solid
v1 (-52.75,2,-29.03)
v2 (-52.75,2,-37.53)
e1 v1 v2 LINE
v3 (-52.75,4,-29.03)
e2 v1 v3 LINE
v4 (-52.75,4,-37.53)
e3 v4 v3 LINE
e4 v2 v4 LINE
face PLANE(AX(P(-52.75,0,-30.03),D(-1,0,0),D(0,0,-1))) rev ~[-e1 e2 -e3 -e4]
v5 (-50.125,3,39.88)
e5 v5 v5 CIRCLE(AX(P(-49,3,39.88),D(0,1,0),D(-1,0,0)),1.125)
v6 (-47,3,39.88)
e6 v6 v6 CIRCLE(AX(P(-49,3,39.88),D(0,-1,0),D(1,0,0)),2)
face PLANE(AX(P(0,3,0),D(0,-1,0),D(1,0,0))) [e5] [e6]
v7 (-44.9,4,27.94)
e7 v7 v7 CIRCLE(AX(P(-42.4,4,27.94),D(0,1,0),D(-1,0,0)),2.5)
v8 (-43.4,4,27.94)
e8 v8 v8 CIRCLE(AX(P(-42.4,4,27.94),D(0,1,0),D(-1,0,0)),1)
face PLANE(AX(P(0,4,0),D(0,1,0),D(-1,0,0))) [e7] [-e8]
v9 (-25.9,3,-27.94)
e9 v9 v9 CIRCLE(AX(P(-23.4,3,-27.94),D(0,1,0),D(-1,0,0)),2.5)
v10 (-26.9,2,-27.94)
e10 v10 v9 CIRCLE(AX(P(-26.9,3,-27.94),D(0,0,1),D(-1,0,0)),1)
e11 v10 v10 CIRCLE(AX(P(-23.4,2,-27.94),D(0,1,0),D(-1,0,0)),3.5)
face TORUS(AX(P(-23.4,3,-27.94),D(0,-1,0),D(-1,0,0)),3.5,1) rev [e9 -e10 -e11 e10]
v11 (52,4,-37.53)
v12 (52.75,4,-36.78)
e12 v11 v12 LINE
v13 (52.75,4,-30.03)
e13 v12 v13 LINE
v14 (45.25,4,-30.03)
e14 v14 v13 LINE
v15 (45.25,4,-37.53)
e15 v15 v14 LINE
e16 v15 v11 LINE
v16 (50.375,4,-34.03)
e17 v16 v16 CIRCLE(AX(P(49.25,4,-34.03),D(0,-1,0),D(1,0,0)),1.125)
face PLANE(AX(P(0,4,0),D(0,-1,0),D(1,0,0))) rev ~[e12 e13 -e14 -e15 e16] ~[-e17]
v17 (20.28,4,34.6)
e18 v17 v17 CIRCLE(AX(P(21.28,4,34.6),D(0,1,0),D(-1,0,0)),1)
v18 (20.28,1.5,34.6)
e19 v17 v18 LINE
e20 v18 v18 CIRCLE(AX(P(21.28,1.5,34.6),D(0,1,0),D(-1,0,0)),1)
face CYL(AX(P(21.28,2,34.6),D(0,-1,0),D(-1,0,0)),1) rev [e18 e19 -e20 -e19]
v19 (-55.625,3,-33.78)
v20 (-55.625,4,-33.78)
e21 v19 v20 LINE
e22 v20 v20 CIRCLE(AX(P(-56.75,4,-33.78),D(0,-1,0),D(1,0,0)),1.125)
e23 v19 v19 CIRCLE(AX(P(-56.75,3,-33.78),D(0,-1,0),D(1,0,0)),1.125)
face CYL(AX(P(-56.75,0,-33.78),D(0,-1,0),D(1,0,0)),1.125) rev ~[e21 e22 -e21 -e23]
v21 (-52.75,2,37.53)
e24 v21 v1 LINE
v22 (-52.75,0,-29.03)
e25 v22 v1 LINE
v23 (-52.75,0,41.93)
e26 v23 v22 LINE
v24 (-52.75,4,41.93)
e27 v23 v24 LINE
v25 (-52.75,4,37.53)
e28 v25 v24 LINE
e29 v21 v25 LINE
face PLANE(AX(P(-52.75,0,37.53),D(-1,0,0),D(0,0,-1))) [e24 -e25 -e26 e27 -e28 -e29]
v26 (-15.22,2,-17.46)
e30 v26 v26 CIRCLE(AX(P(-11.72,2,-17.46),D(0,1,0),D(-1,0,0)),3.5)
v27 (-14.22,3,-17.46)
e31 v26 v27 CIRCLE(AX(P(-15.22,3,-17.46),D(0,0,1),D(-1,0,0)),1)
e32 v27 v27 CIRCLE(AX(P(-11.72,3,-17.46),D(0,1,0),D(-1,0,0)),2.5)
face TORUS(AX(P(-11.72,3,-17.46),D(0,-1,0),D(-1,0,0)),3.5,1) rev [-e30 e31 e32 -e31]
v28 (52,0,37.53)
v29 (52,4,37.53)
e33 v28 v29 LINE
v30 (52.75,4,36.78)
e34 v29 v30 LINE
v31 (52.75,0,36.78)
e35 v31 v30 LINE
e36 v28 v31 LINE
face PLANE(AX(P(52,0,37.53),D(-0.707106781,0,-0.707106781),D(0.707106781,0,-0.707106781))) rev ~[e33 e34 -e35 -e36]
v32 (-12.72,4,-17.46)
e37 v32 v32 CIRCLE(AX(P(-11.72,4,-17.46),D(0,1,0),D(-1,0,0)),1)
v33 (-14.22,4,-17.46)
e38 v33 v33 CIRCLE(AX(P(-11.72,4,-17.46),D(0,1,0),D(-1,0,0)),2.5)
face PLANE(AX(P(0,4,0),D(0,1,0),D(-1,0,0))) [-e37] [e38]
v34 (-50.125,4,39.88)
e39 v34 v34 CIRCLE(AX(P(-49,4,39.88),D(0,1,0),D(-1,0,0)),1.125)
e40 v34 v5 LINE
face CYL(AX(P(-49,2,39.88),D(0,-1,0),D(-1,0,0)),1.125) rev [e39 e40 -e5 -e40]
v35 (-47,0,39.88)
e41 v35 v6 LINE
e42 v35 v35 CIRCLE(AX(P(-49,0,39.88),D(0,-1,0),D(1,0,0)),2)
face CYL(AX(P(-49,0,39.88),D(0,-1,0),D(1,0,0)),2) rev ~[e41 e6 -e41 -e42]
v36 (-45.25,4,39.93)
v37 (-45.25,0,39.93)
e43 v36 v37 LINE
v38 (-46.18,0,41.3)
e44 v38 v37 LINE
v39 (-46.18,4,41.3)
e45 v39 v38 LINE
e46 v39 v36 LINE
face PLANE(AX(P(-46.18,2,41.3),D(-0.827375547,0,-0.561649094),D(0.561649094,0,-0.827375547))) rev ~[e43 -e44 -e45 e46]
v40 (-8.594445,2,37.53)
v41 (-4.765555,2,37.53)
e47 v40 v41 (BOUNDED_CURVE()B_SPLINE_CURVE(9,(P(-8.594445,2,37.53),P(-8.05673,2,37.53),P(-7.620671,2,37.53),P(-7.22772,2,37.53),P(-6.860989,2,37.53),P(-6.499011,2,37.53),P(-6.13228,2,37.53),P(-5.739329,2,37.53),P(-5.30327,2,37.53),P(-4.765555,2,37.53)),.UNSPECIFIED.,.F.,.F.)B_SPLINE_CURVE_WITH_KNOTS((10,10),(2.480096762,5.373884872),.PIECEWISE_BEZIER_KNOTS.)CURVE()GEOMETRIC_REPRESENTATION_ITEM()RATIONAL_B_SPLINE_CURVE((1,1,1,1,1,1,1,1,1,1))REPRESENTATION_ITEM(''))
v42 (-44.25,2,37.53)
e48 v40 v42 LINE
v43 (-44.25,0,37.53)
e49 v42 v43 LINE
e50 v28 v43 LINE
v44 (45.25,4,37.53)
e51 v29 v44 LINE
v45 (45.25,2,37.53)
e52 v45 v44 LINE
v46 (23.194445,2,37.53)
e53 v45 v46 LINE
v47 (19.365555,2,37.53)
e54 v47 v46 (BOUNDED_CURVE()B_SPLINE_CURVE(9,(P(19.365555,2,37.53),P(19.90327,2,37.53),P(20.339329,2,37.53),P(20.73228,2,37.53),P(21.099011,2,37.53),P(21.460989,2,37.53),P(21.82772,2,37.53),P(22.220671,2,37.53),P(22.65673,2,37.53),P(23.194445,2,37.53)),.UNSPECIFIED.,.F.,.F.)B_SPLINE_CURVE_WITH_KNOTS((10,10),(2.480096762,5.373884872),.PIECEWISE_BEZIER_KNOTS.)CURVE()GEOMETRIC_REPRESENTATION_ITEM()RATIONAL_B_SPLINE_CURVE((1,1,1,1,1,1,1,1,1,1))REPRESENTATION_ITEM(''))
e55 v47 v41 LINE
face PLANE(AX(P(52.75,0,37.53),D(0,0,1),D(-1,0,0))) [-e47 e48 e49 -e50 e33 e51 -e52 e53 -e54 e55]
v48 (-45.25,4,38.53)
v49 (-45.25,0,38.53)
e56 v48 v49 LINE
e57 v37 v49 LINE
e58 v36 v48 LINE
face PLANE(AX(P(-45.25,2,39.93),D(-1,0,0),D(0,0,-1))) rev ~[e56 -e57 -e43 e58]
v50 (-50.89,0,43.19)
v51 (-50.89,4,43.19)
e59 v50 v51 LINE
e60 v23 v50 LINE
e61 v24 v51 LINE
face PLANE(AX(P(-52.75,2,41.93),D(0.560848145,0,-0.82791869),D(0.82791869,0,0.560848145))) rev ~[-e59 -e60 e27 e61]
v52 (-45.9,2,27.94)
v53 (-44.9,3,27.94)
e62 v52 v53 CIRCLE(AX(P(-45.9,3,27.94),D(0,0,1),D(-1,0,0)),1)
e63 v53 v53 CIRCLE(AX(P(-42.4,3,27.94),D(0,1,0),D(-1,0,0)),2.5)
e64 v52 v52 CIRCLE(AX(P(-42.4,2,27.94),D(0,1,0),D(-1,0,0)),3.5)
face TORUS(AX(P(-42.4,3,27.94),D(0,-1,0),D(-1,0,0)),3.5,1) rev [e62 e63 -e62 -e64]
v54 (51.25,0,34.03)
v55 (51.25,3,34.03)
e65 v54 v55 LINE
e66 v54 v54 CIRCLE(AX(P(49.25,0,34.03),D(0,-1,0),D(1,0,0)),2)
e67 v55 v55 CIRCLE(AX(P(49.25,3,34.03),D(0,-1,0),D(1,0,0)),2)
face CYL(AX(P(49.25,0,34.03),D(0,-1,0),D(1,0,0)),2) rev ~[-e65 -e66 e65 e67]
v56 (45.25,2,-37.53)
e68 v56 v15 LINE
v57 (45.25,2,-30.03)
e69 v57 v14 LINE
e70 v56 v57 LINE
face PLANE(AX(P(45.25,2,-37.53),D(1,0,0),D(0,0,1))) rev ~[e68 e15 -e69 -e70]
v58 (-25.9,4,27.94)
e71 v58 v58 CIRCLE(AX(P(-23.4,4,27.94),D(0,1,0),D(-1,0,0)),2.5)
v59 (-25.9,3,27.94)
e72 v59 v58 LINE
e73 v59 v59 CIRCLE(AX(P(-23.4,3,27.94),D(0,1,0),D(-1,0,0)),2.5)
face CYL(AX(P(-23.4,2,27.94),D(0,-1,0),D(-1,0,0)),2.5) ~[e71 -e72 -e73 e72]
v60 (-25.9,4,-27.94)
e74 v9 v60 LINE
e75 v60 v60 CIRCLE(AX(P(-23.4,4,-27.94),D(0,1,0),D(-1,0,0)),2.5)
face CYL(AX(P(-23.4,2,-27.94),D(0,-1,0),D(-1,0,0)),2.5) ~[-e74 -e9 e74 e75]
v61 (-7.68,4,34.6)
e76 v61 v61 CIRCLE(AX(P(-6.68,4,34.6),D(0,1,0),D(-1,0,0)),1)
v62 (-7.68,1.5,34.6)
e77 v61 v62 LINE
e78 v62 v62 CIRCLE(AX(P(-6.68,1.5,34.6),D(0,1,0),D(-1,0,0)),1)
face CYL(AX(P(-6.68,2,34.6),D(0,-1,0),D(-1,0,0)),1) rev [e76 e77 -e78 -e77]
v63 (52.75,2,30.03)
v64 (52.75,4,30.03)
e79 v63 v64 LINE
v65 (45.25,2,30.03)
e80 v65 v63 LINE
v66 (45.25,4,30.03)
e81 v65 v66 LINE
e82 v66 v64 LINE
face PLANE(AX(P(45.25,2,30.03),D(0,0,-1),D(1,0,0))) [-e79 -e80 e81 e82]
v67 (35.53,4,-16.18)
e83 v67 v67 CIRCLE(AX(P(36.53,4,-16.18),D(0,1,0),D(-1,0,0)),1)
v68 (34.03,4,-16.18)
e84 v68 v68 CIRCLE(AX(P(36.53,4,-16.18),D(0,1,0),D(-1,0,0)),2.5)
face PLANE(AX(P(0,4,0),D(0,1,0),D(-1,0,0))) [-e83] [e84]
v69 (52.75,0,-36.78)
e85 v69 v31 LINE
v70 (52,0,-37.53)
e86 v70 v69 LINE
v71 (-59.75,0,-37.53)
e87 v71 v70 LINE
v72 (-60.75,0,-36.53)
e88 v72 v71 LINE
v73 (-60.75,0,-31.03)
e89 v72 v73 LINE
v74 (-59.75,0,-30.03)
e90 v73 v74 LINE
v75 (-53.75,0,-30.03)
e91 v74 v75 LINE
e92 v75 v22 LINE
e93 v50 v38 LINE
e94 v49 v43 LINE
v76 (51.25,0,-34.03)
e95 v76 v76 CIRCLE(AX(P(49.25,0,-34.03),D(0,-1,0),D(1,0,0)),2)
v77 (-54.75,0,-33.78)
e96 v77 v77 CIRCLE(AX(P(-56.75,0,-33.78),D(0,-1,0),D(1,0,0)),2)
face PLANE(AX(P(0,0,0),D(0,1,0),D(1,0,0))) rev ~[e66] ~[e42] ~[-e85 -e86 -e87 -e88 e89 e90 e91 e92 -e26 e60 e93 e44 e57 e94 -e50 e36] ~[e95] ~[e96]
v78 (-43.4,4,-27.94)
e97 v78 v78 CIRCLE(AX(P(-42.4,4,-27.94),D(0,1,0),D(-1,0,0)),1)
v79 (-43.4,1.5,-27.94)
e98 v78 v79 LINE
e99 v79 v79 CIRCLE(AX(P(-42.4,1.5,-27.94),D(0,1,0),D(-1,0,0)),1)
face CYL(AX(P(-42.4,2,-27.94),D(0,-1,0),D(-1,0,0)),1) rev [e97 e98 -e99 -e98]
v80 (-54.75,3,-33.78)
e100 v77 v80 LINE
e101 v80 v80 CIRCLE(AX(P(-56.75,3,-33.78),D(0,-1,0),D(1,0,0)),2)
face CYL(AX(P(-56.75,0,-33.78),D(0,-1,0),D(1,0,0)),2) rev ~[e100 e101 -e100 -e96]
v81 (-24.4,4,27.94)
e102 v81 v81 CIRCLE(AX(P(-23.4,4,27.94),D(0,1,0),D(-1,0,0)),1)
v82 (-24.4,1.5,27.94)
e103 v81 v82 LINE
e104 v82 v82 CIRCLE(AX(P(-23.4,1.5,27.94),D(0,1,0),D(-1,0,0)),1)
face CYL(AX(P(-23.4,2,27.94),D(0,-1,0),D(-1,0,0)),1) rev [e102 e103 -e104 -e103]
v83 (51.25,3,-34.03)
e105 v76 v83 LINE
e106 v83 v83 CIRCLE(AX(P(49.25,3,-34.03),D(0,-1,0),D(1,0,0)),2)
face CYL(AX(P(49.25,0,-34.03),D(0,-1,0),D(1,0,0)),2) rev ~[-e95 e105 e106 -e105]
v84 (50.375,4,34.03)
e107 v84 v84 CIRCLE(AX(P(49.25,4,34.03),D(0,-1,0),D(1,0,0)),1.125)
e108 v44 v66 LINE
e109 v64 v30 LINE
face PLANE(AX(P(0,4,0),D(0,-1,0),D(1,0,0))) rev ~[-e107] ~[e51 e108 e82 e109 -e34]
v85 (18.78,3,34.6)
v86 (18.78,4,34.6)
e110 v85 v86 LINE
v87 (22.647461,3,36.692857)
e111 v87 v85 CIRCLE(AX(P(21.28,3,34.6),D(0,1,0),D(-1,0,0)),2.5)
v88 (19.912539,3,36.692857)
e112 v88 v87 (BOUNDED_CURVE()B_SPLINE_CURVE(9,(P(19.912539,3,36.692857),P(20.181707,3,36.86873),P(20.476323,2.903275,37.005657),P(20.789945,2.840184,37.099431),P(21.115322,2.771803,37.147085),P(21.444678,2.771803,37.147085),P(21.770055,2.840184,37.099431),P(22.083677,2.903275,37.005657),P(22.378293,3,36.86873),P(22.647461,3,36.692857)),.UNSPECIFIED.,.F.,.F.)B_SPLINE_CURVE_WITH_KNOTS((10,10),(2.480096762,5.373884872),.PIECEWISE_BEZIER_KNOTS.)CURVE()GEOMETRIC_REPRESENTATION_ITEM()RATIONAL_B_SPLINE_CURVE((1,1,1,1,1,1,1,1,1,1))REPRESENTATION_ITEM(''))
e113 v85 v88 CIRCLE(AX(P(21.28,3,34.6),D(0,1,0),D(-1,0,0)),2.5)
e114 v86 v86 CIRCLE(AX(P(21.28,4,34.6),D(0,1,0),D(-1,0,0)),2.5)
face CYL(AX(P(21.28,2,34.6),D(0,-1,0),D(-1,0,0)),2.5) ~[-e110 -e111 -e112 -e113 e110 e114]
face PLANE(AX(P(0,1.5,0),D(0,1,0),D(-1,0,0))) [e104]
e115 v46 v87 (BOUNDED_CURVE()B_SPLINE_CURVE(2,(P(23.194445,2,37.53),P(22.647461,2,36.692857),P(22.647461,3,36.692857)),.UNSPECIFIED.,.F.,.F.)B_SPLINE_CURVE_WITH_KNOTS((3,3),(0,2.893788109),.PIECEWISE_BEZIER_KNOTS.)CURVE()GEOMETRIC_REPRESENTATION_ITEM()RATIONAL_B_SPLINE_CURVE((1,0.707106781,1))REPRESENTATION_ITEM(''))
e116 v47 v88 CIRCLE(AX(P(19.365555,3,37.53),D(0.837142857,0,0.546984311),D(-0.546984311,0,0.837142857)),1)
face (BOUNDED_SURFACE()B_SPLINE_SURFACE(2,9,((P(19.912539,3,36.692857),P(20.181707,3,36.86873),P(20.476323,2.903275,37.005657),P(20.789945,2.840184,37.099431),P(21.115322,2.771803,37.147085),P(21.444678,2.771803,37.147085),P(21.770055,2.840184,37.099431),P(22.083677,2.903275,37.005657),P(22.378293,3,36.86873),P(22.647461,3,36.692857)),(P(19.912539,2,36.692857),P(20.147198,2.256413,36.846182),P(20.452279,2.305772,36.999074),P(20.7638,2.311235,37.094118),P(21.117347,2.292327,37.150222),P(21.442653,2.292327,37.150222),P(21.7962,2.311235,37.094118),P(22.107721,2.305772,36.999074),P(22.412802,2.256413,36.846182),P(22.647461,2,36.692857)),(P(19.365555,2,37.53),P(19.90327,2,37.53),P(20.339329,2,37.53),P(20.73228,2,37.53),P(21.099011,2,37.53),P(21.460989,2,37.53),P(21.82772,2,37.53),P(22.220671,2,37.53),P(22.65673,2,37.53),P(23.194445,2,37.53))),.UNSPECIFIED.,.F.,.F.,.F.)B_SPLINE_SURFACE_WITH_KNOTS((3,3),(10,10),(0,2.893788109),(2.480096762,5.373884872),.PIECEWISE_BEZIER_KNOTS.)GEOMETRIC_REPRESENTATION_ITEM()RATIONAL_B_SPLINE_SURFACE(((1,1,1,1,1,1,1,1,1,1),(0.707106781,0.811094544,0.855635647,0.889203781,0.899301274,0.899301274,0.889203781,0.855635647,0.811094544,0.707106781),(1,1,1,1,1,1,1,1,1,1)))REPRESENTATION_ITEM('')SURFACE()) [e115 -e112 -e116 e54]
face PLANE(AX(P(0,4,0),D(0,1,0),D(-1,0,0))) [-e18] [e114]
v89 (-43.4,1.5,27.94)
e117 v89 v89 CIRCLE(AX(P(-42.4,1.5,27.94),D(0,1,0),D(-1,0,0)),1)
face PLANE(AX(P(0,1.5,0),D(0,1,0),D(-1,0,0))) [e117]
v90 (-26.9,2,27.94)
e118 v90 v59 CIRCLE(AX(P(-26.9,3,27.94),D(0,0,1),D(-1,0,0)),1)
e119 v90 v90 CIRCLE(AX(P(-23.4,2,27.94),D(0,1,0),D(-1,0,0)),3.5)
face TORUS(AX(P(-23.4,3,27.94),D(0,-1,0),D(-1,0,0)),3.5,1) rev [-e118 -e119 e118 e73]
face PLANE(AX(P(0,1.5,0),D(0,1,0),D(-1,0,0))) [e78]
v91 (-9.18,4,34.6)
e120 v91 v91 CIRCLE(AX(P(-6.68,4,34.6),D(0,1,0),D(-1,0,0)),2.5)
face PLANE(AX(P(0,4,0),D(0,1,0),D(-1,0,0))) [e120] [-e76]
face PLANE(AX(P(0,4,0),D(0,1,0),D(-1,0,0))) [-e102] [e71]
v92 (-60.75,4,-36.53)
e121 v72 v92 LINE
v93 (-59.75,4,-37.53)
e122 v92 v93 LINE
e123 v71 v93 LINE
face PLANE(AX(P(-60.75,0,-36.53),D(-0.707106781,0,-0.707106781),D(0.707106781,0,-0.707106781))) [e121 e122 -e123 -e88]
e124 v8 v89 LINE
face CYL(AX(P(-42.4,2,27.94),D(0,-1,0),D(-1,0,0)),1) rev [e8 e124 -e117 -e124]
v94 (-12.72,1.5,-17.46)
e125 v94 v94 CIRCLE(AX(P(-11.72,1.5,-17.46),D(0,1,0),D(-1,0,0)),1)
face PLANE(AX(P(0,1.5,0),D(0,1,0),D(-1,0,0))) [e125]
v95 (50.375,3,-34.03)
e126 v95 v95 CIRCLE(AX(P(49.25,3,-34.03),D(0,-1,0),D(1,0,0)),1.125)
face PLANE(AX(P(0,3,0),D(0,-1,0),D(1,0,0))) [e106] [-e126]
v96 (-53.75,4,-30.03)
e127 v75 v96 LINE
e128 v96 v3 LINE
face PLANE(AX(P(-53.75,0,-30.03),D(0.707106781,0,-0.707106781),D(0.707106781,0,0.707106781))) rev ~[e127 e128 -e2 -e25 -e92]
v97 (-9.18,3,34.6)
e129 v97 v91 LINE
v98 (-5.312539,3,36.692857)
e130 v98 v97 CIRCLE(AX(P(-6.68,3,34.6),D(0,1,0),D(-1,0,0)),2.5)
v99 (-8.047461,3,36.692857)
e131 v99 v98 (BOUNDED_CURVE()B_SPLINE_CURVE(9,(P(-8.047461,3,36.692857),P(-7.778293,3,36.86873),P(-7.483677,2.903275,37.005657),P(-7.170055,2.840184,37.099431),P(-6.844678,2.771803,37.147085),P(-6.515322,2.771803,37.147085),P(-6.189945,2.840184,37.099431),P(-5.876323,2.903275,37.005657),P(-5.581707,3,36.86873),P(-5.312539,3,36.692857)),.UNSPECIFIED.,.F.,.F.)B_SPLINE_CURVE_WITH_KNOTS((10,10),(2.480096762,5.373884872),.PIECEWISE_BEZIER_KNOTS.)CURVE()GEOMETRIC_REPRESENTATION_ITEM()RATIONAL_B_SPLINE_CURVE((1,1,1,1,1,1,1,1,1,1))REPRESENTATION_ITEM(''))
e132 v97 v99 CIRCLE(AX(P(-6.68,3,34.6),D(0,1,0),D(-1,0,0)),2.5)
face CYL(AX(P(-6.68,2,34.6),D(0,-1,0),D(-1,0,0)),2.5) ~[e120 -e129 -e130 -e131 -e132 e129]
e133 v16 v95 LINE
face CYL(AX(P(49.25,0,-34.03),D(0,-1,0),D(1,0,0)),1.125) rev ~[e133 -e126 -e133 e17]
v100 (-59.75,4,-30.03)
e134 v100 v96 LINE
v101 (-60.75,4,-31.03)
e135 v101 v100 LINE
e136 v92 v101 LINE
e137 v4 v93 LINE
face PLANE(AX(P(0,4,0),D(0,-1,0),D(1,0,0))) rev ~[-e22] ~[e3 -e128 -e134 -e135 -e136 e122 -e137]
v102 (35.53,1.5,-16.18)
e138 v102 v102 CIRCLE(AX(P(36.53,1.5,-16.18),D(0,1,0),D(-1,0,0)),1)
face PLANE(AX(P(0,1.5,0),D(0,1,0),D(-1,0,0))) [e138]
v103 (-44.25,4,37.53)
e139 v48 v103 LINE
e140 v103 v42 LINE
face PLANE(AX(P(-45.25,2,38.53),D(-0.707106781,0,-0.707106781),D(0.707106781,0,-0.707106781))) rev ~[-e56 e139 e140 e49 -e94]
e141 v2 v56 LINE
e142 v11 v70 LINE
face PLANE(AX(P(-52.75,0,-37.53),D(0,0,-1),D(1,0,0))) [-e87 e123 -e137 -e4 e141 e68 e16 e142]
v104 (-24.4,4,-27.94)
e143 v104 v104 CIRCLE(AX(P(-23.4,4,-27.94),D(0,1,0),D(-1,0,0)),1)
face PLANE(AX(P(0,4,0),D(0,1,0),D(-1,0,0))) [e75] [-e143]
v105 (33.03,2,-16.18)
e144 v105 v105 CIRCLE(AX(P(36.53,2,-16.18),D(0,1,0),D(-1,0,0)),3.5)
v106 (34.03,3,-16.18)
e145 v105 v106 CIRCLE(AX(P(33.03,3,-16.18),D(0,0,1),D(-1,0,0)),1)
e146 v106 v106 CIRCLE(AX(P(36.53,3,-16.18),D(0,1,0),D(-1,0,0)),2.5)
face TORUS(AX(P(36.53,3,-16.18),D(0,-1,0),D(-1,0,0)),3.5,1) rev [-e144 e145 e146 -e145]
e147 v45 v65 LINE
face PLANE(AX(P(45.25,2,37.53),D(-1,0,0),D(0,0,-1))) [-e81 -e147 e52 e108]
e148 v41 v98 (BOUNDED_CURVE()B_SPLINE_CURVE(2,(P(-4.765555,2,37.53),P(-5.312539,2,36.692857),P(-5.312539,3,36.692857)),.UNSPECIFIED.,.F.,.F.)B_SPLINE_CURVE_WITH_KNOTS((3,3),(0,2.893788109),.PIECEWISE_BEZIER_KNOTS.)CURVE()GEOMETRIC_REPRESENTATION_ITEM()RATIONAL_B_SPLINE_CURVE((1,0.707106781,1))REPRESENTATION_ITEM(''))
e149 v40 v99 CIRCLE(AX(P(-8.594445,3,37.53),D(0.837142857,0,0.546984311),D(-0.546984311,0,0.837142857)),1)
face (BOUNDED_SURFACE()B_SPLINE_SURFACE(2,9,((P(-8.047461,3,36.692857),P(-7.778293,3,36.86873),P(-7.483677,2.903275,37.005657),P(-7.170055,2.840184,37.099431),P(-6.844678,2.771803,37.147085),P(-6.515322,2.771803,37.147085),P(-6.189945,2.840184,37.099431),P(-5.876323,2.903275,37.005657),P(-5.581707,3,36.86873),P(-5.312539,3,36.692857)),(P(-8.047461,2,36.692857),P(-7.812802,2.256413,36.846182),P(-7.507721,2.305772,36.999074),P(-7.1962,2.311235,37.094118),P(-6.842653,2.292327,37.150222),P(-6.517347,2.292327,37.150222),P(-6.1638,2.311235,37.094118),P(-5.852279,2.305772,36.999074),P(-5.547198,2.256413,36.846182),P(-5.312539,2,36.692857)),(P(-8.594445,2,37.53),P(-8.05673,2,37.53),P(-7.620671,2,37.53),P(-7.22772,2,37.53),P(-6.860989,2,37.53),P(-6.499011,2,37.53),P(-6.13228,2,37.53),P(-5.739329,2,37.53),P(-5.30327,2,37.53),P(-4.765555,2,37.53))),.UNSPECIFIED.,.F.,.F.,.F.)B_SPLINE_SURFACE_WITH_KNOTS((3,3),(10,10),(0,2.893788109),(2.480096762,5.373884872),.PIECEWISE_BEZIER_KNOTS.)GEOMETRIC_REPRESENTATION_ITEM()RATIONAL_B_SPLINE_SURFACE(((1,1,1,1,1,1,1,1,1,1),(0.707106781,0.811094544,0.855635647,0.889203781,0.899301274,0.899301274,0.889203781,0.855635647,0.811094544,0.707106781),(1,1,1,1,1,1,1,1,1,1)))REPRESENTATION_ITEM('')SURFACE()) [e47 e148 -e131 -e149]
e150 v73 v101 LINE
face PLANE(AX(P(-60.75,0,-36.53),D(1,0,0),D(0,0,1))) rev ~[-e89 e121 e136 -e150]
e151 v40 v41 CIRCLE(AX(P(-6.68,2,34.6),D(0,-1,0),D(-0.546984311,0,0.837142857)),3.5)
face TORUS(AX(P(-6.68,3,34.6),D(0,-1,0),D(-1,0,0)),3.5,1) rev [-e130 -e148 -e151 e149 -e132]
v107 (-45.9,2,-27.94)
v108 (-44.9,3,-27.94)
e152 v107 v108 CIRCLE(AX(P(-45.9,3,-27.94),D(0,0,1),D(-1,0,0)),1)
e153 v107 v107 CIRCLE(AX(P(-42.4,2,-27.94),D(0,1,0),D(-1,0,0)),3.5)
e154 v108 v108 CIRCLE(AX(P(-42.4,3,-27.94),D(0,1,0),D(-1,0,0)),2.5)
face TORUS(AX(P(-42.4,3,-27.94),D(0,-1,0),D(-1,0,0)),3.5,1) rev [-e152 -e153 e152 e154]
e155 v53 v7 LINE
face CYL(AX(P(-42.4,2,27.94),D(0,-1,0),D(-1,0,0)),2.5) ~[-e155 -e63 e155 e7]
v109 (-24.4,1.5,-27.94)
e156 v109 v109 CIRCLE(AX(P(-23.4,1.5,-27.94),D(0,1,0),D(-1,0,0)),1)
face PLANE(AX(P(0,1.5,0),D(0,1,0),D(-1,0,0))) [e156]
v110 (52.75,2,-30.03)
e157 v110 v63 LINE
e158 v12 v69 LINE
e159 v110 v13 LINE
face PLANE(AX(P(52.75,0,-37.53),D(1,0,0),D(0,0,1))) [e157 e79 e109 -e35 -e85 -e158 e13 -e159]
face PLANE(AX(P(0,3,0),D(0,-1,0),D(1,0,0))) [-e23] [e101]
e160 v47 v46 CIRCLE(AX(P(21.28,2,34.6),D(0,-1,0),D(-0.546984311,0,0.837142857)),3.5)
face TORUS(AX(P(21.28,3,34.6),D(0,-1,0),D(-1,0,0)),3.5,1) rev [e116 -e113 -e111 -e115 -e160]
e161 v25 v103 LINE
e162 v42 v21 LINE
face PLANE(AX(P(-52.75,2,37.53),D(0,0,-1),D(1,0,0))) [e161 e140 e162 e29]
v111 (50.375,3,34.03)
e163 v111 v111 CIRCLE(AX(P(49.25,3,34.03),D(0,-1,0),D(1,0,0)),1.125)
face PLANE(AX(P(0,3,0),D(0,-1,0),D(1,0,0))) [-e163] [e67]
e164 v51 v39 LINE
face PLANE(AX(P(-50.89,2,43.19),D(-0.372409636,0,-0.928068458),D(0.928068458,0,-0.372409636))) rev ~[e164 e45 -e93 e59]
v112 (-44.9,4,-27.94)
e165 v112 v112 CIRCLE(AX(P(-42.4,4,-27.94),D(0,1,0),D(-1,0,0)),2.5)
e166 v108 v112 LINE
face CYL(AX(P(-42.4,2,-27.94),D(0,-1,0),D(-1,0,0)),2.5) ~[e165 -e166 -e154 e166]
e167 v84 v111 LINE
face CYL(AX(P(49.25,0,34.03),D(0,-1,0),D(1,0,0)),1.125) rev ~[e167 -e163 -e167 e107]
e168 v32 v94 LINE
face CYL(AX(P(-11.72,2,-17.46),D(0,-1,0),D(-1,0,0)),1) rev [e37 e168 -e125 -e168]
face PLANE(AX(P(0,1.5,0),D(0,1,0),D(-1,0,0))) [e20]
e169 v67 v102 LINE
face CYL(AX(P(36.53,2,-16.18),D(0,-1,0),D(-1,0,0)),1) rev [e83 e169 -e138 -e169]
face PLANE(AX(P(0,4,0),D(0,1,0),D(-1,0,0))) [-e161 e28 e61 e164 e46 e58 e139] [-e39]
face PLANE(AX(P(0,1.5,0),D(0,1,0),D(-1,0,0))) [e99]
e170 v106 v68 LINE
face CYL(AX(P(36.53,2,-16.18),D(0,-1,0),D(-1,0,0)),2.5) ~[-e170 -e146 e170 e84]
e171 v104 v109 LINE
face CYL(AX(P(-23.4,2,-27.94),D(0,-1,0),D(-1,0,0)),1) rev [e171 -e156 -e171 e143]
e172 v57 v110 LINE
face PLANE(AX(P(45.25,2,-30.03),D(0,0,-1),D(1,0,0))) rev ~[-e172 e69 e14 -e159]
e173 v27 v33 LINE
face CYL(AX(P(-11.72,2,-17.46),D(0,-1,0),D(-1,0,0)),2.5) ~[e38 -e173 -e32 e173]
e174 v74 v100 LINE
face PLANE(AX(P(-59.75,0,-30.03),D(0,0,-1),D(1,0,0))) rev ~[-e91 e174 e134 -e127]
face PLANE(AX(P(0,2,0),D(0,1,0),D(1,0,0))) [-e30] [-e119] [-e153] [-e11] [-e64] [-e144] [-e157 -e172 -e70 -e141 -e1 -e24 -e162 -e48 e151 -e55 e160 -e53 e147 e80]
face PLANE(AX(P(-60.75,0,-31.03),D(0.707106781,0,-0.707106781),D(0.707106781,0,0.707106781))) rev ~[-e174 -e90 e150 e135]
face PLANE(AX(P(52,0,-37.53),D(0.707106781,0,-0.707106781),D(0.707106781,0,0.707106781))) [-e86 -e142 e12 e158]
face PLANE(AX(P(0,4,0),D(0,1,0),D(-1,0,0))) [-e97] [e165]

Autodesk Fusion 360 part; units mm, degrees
sketch "Sketch1" plane through (0, 0, 0) normal (0, 1, 0) x (1, 0, 0)
  line L0 (52.75, -37.53) -> (-52.75, -37.53)
  line L1 (-52.75, -37.53) -> (-52.75, 37.53)
  line L2 (-52.75, 37.53) -> (52.75, 37.53)
  line L3 (52.75, 37.53) -> (52.75, -37.53)
  line L4 (52.75, -37.53) -> (-52.75, 37.53) construction
  line L5 (-52.75, -37.53) -> (52.75, 37.53) construction
  dimension "d1" = 105.5
  dimension "d2" = 75.06
extrude "Extrude1" add sketch "Sketch1" along normal blind 2
sketch "Sketch2" plane through (0, 2, 0) normal (0, 1, 0) x (-1, 0, 0)
  line L0 (-52.75, -37.53) -> (52.75, -37.53)
  line L1 (52.75, -37.53) -> (52.75, 37.53)
  line L2 (52.75, 37.53) -> (-52.75, 37.53)
  line L3 (-52.75, 37.53) -> (-52.75, -37.53)
  line L4 (52.75, 37.53) -> (52.75, 41.93)
  line L5 (52.75, 41.93) -> (50.89, 43.19)
  line L6 (50.89, 43.19) -> (46.18, 41.3)
  line L7 (46.18, 41.3) -> (45.25, 39.93)
  line L8 (45.25, 39.93) -> (45.25, 38.53)
  line L9 (45.25, 38.53) -> (44.25, 37.53)
  line L10 (52.75, 37.53) -> (44.25, 37.53)
  circle A0 centre (49, 39.88) radius 1.125
  dimension "d5" = 4.4
  dimension "d6" = 1.26
  dimension "d7" = 1.86
  dimension "d8" = 4.71
  dimension "d9" = 1.89
  dimension "d10" = 0.93
  dimension "d11" = 1.37
  dimension "d12" = 1.4
  dimension "d13" = 1
  dimension "d14" = 3.75
  dimension "d15" = 2.25
  dimension "d16" = 2.35
extrude "Extrude2" add sketch "Sketch2" along normal blind 2 and the other way blind 2 contours L2 L4 L5 L6 L7 L8 L9 L10
sketch "Sketch3" plane through (0, 0, 0) normal (0, -1, 0) x (1, 0, 0)
  circle A0 centre (-49, 39.88) radius 1.125
  line L0 (-52.75, -37.53) -> (52.75, -37.53)
  line L1 (52.75, -37.53) -> (52.75, 37.53)
  line L2 (52.75, 37.53) -> (-44.25, 37.53)
  line L3 (-44.25, 37.53) -> (-45.25, 38.53)
  line L4 (-45.25, 38.53) -> (-45.25, 39.93)
  line L5 (-45.25, 39.93) -> (-46.18, 41.3)
  line L6 (-46.18, 41.3) -> (-50.89, 43.19)
  line L7 (-50.89, 43.19) -> (-52.75, 41.93)
  line L8 (-52.75, 41.93) -> (-52.75, -37.53)
  line L9 (-52.75, -37.53) -> (-60.75, -37.53)
  line L10 (-60.75, -37.53) -> (-60.75, -30.03)
  line L11 (-60.75, -30.03) -> (-52.75, -30.03)
  line L12 (-52.75, -30.03) -> (-52.75, -37.53)
  line L13 (-60.75, -36.53) -> (-59.75, -37.53)
  line L14 (-60.75, -31.03) -> (-59.75, -30.03)
  line L15 (-53.75, -30.03) -> (-52.75, -29.03)
  circle A1 centre (-56.75, -33.78) radius 1.125
  dimension "d21" = 8
  dimension "d22" = 7.5
  dimension "d23" = 8
  dimension "d24" = 7.5
  dimension "d25" = 1
  dimension "d26" = 1
  dimension "d27" = 1
  dimension "d28" = 1
  dimension "d29" = 1
  dimension "d30" = 1
  dimension "d31" = 2.25
  dimension "d32" = 4
  dimension "d33" = 3.75
extrude "Extrude3" add sketch "Sketch3" against normal blind 4 contours L8 L9 L10 L11 L12 L13 L14 | L8 L11 L15
sketch "Sketch4" plane through (0, 0, 0) normal (0, -1, 0) x (1, 0, 0)
  circle A0 centre (-56.75, -33.78) radius 1.125
  circle A1 centre (-49, 39.88) radius 1.125
  line L0 (-59.75, -37.53) -> (52.75, -37.53)
  line L1 (52.75, -37.53) -> (52.75, 37.53)
  line L2 (52.75, 37.53) -> (-44.25, 37.53)
  line L3 (-44.25, 37.53) -> (-45.25, 38.53)
  line L4 (-45.25, 38.53) -> (-45.25, 39.93)
  line L5 (-45.25, 39.93) -> (-46.18, 41.3)
  line L6 (-46.18, 41.3) -> (-50.89, 43.19)
  line L7 (-50.89, 43.19) -> (-52.75, 41.93)
  line L8 (-52.75, 41.93) -> (-52.75, -29.03)
  line L9 (-52.75, -29.03) -> (-53.75, -30.03)
  line L10 (-53.75, -30.03) -> (-59.75, -30.03)
  line L11 (-59.75, -30.03) -> (-60.75, -31.03)
  line L12 (-60.75, -31.03) -> (-60.75, -36.53)
  line L13 (-60.75, -36.53) -> (-59.75, -37.53)
  line L14 (52.75, 37.53) -> (45.25, 37.53)
  line L15 (45.25, 37.53) -> (45.25, 30.03)
  line L16 (45.25, 30.03) -> (52.75, 30.03)
  line L17 (52.75, 30.03) -> (52.75, 37.53)
  line L18 (52, 37.53) -> (52.75, 36.78)
  circle A2 centre (49.25, 34.03) radius 1.125
  line L19 (0, 0) -> (57, 0)
  line L20 (52, -37.53) -> (52.75, -36.78)
  line L21 (45.25, -30.03) -> (52.75, -30.03)
  line L22 (45.25, -37.53) -> (45.25, -30.03)
  line L23 (52.75, -37.53) -> (45.25, -37.53)
  circle A3 centre (49.25, -34.03) radius 1.125
  line L24 (52.75, -30.03) -> (52.75, -37.53)
  point P0 (52.75, -37.53)
  dimension "d36" = 7.5
  dimension "d37" = 7.5
  dimension "d38" = 0.75
  dimension "d39" = 0.75
  dimension "d40" = 4
  dimension "d41" = 4
  dimension "d42" = 2.25
extrude "Extrude4" cut sketch "Sketch4" against normal blind 2 contours L0 L1 L20 L23 L24 | L1 L2 L14 L17 L18
extrude "Extrude5" add sketch "Sketch4" against normal blind 2 from surface at -2 contours L0 L1 L20 L21 L22 L23 L24 | L1 L2 L14 L15 L16 L17 L18
extrude "Extrude6" cut sketch "Sketch4" against normal blind 2 contours A2 | A3
sketch "Sketch5" plane through (0, 0, 0) normal (0, -1, 0) x (1, 0, 0)
  circle A0 centre (49.25, 34.03) radius 1.125
  circle A1 centre (49.25, -34.03) radius 1.125
  line L0 (52.75, 36.78) -> (52, 37.53)
  line L1 (52, 37.53) -> (-44.25, 37.53)
  line L2 (-44.25, 37.53) -> (-45.25, 38.53)
  line L3 (-45.25, 38.53) -> (-45.25, 39.93)
  line L4 (-45.25, 39.93) -> (-46.18, 41.3)
  line L5 (-46.18, 41.3) -> (-50.89, 43.19)
  line L6 (-50.89, 43.19) -> (-52.75, 41.93)
  line L7 (-52.75, 41.93) -> (-52.75, -29.03)
  line L8 (-52.75, -29.03) -> (-53.75, -30.03)
  line L9 (-53.75, -30.03) -> (-59.75, -30.03)
  line L10 (-59.75, -30.03) -> (-60.75, -31.03)
  line L11 (-60.75, -31.03) -> (-60.75, -36.53)
  line L12 (-60.75, -36.53) -> (-59.75, -37.53)
  line L13 (-59.75, -37.53) -> (52, -37.53)
  line L14 (52, -37.53) -> (52.75, -36.78)
  line L15 (52.75, -36.78) -> (52.75, 36.78)
  circle A2 centre (-56.75, -33.78) radius 1.125
  circle A3 centre (-49, 39.88) radius 1.125
  circle A4 centre (-49, 39.88) radius 2
  circle A5 centre (-56.75, -33.78) radius 2
  circle A6 centre (49.25, -34.03) radius 2
  circle A7 centre (49.25, 34.03) radius 2
  dimension "d50" = 4
  dimension "d51" = 4
  dimension "d52" = 4
  dimension "d53" = 4
extrude "Extrude7" cut sketch "Sketch5" against normal blind 3 contours A4 | A5 | A6 | A7
sketch "Sketch6" plane through (0, 2, 0) normal (0, 1, 0) x (-1, 0, 0)
  line L0 (-45.25, 37.53) -> (-45.25, 30.03)
  line L1 (-45.25, 30.03) -> (-52.75, 30.03)
  line L2 (-52.75, 30.03) -> (-52.75, -30.03)
  line L3 (-52.75, -30.03) -> (-45.25, -30.03)
  line L4 (-45.25, -30.03) -> (-45.25, -37.53)
  line L5 (-45.25, -37.53) -> (52.75, -37.53)
  line L6 (52.75, -37.53) -> (52.75, -29.03)
  line L7 (52.75, -29.03) -> (52.75, 37.53)
  line L8 (52.75, 37.53) -> (44.25, 37.53)
  line L9 (44.25, 37.53) -> (-45.25, 37.53)
  circle A0 centre (42.4, 27.94) radius 1
  circle A1 centre (23.4, 27.94) radius 1
  circle A2 centre (6.68, 34.6) radius 1
  circle A3 centre (-21.28, 34.6) radius 1
  circle A4 centre (42.4, 27.94) radius 2.5
  circle A5 centre (23.4, 27.94) radius 2.5
  circle A6 centre (6.68, 34.6) radius 2.5
  circle A7 centre (-21.28, 34.6) radius 2.5
  circle A8 centre (42.4, -27.94) radius 1
  circle A9 centre (23.4, -27.94) radius 1
  circle A10 centre (11.72, -17.46) radius 1
  circle A11 centre (-36.53, -16.18) radius 1
  circle A12 centre (42.4, -27.94) radius 2.5
  circle A13 centre (23.4, -27.94) radius 2.5
  circle A14 centre (11.72, -17.46) radius 2.5
  circle A15 centre (-36.53, -16.18) radius 2.5
  dimension "d56" = 2.93
  dimension "d57" = 2.93
  dimension "d58" = 2
  dimension "d59" = 2
  dimension "d60" = 9.59
  dimension "d61" = 9.59
  dimension "d62" = 2
  dimension "d63" = 2
  dimension "d64" = 10.35
  dimension "d65" = 29.35
  dimension "d66" = 46.07
  dimension "d67" = 74.03
  dimension "d68" = 5
  dimension "d69" = 5
  dimension "d70" = 5
  dimension "d71" = 5
  dimension "d72" = 2
  dimension "d73" = 2
  dimension "d74" = 2
  dimension "d75" = 2
  dimension "d76" = 9.59
  dimension "d77" = 9.59
  dimension "d78" = 20.07
  dimension "d79" = 21.35
  dimension "d80" = 10.35
  dimension "d81" = 29.35
  dimension "d82" = 41.03
  dimension "d83" = 89.28
  dimension "d84" = 5
  dimension "d85" = 5
  dimension "d86" = 5
  dimension "d87" = 5
extrude "Extrude8" cut sketch "Sketch6" against normal blind 0.5 contours A0 | A1 | A2 | A3 | A8 | A9 | A10 | A11
extrude "Extrude9" add sketch "Sketch6" along normal blind 2 contours A4 | A5 | A6 | A7 | A12 | A13 | A14 | A15
fillet "Fillet1" radius 1 8 edges at (-40.0692, 2, -27.036) (-21.0692, 2, -27.036) (-9.3892, 2, -16.556) (-40.0692, 2, 28.844) (-21.0692, 2, 28.844) (-4.3492, 2, 35.504) (23.6108, 2, 35.504) (38.8608, 2, -15.276)
